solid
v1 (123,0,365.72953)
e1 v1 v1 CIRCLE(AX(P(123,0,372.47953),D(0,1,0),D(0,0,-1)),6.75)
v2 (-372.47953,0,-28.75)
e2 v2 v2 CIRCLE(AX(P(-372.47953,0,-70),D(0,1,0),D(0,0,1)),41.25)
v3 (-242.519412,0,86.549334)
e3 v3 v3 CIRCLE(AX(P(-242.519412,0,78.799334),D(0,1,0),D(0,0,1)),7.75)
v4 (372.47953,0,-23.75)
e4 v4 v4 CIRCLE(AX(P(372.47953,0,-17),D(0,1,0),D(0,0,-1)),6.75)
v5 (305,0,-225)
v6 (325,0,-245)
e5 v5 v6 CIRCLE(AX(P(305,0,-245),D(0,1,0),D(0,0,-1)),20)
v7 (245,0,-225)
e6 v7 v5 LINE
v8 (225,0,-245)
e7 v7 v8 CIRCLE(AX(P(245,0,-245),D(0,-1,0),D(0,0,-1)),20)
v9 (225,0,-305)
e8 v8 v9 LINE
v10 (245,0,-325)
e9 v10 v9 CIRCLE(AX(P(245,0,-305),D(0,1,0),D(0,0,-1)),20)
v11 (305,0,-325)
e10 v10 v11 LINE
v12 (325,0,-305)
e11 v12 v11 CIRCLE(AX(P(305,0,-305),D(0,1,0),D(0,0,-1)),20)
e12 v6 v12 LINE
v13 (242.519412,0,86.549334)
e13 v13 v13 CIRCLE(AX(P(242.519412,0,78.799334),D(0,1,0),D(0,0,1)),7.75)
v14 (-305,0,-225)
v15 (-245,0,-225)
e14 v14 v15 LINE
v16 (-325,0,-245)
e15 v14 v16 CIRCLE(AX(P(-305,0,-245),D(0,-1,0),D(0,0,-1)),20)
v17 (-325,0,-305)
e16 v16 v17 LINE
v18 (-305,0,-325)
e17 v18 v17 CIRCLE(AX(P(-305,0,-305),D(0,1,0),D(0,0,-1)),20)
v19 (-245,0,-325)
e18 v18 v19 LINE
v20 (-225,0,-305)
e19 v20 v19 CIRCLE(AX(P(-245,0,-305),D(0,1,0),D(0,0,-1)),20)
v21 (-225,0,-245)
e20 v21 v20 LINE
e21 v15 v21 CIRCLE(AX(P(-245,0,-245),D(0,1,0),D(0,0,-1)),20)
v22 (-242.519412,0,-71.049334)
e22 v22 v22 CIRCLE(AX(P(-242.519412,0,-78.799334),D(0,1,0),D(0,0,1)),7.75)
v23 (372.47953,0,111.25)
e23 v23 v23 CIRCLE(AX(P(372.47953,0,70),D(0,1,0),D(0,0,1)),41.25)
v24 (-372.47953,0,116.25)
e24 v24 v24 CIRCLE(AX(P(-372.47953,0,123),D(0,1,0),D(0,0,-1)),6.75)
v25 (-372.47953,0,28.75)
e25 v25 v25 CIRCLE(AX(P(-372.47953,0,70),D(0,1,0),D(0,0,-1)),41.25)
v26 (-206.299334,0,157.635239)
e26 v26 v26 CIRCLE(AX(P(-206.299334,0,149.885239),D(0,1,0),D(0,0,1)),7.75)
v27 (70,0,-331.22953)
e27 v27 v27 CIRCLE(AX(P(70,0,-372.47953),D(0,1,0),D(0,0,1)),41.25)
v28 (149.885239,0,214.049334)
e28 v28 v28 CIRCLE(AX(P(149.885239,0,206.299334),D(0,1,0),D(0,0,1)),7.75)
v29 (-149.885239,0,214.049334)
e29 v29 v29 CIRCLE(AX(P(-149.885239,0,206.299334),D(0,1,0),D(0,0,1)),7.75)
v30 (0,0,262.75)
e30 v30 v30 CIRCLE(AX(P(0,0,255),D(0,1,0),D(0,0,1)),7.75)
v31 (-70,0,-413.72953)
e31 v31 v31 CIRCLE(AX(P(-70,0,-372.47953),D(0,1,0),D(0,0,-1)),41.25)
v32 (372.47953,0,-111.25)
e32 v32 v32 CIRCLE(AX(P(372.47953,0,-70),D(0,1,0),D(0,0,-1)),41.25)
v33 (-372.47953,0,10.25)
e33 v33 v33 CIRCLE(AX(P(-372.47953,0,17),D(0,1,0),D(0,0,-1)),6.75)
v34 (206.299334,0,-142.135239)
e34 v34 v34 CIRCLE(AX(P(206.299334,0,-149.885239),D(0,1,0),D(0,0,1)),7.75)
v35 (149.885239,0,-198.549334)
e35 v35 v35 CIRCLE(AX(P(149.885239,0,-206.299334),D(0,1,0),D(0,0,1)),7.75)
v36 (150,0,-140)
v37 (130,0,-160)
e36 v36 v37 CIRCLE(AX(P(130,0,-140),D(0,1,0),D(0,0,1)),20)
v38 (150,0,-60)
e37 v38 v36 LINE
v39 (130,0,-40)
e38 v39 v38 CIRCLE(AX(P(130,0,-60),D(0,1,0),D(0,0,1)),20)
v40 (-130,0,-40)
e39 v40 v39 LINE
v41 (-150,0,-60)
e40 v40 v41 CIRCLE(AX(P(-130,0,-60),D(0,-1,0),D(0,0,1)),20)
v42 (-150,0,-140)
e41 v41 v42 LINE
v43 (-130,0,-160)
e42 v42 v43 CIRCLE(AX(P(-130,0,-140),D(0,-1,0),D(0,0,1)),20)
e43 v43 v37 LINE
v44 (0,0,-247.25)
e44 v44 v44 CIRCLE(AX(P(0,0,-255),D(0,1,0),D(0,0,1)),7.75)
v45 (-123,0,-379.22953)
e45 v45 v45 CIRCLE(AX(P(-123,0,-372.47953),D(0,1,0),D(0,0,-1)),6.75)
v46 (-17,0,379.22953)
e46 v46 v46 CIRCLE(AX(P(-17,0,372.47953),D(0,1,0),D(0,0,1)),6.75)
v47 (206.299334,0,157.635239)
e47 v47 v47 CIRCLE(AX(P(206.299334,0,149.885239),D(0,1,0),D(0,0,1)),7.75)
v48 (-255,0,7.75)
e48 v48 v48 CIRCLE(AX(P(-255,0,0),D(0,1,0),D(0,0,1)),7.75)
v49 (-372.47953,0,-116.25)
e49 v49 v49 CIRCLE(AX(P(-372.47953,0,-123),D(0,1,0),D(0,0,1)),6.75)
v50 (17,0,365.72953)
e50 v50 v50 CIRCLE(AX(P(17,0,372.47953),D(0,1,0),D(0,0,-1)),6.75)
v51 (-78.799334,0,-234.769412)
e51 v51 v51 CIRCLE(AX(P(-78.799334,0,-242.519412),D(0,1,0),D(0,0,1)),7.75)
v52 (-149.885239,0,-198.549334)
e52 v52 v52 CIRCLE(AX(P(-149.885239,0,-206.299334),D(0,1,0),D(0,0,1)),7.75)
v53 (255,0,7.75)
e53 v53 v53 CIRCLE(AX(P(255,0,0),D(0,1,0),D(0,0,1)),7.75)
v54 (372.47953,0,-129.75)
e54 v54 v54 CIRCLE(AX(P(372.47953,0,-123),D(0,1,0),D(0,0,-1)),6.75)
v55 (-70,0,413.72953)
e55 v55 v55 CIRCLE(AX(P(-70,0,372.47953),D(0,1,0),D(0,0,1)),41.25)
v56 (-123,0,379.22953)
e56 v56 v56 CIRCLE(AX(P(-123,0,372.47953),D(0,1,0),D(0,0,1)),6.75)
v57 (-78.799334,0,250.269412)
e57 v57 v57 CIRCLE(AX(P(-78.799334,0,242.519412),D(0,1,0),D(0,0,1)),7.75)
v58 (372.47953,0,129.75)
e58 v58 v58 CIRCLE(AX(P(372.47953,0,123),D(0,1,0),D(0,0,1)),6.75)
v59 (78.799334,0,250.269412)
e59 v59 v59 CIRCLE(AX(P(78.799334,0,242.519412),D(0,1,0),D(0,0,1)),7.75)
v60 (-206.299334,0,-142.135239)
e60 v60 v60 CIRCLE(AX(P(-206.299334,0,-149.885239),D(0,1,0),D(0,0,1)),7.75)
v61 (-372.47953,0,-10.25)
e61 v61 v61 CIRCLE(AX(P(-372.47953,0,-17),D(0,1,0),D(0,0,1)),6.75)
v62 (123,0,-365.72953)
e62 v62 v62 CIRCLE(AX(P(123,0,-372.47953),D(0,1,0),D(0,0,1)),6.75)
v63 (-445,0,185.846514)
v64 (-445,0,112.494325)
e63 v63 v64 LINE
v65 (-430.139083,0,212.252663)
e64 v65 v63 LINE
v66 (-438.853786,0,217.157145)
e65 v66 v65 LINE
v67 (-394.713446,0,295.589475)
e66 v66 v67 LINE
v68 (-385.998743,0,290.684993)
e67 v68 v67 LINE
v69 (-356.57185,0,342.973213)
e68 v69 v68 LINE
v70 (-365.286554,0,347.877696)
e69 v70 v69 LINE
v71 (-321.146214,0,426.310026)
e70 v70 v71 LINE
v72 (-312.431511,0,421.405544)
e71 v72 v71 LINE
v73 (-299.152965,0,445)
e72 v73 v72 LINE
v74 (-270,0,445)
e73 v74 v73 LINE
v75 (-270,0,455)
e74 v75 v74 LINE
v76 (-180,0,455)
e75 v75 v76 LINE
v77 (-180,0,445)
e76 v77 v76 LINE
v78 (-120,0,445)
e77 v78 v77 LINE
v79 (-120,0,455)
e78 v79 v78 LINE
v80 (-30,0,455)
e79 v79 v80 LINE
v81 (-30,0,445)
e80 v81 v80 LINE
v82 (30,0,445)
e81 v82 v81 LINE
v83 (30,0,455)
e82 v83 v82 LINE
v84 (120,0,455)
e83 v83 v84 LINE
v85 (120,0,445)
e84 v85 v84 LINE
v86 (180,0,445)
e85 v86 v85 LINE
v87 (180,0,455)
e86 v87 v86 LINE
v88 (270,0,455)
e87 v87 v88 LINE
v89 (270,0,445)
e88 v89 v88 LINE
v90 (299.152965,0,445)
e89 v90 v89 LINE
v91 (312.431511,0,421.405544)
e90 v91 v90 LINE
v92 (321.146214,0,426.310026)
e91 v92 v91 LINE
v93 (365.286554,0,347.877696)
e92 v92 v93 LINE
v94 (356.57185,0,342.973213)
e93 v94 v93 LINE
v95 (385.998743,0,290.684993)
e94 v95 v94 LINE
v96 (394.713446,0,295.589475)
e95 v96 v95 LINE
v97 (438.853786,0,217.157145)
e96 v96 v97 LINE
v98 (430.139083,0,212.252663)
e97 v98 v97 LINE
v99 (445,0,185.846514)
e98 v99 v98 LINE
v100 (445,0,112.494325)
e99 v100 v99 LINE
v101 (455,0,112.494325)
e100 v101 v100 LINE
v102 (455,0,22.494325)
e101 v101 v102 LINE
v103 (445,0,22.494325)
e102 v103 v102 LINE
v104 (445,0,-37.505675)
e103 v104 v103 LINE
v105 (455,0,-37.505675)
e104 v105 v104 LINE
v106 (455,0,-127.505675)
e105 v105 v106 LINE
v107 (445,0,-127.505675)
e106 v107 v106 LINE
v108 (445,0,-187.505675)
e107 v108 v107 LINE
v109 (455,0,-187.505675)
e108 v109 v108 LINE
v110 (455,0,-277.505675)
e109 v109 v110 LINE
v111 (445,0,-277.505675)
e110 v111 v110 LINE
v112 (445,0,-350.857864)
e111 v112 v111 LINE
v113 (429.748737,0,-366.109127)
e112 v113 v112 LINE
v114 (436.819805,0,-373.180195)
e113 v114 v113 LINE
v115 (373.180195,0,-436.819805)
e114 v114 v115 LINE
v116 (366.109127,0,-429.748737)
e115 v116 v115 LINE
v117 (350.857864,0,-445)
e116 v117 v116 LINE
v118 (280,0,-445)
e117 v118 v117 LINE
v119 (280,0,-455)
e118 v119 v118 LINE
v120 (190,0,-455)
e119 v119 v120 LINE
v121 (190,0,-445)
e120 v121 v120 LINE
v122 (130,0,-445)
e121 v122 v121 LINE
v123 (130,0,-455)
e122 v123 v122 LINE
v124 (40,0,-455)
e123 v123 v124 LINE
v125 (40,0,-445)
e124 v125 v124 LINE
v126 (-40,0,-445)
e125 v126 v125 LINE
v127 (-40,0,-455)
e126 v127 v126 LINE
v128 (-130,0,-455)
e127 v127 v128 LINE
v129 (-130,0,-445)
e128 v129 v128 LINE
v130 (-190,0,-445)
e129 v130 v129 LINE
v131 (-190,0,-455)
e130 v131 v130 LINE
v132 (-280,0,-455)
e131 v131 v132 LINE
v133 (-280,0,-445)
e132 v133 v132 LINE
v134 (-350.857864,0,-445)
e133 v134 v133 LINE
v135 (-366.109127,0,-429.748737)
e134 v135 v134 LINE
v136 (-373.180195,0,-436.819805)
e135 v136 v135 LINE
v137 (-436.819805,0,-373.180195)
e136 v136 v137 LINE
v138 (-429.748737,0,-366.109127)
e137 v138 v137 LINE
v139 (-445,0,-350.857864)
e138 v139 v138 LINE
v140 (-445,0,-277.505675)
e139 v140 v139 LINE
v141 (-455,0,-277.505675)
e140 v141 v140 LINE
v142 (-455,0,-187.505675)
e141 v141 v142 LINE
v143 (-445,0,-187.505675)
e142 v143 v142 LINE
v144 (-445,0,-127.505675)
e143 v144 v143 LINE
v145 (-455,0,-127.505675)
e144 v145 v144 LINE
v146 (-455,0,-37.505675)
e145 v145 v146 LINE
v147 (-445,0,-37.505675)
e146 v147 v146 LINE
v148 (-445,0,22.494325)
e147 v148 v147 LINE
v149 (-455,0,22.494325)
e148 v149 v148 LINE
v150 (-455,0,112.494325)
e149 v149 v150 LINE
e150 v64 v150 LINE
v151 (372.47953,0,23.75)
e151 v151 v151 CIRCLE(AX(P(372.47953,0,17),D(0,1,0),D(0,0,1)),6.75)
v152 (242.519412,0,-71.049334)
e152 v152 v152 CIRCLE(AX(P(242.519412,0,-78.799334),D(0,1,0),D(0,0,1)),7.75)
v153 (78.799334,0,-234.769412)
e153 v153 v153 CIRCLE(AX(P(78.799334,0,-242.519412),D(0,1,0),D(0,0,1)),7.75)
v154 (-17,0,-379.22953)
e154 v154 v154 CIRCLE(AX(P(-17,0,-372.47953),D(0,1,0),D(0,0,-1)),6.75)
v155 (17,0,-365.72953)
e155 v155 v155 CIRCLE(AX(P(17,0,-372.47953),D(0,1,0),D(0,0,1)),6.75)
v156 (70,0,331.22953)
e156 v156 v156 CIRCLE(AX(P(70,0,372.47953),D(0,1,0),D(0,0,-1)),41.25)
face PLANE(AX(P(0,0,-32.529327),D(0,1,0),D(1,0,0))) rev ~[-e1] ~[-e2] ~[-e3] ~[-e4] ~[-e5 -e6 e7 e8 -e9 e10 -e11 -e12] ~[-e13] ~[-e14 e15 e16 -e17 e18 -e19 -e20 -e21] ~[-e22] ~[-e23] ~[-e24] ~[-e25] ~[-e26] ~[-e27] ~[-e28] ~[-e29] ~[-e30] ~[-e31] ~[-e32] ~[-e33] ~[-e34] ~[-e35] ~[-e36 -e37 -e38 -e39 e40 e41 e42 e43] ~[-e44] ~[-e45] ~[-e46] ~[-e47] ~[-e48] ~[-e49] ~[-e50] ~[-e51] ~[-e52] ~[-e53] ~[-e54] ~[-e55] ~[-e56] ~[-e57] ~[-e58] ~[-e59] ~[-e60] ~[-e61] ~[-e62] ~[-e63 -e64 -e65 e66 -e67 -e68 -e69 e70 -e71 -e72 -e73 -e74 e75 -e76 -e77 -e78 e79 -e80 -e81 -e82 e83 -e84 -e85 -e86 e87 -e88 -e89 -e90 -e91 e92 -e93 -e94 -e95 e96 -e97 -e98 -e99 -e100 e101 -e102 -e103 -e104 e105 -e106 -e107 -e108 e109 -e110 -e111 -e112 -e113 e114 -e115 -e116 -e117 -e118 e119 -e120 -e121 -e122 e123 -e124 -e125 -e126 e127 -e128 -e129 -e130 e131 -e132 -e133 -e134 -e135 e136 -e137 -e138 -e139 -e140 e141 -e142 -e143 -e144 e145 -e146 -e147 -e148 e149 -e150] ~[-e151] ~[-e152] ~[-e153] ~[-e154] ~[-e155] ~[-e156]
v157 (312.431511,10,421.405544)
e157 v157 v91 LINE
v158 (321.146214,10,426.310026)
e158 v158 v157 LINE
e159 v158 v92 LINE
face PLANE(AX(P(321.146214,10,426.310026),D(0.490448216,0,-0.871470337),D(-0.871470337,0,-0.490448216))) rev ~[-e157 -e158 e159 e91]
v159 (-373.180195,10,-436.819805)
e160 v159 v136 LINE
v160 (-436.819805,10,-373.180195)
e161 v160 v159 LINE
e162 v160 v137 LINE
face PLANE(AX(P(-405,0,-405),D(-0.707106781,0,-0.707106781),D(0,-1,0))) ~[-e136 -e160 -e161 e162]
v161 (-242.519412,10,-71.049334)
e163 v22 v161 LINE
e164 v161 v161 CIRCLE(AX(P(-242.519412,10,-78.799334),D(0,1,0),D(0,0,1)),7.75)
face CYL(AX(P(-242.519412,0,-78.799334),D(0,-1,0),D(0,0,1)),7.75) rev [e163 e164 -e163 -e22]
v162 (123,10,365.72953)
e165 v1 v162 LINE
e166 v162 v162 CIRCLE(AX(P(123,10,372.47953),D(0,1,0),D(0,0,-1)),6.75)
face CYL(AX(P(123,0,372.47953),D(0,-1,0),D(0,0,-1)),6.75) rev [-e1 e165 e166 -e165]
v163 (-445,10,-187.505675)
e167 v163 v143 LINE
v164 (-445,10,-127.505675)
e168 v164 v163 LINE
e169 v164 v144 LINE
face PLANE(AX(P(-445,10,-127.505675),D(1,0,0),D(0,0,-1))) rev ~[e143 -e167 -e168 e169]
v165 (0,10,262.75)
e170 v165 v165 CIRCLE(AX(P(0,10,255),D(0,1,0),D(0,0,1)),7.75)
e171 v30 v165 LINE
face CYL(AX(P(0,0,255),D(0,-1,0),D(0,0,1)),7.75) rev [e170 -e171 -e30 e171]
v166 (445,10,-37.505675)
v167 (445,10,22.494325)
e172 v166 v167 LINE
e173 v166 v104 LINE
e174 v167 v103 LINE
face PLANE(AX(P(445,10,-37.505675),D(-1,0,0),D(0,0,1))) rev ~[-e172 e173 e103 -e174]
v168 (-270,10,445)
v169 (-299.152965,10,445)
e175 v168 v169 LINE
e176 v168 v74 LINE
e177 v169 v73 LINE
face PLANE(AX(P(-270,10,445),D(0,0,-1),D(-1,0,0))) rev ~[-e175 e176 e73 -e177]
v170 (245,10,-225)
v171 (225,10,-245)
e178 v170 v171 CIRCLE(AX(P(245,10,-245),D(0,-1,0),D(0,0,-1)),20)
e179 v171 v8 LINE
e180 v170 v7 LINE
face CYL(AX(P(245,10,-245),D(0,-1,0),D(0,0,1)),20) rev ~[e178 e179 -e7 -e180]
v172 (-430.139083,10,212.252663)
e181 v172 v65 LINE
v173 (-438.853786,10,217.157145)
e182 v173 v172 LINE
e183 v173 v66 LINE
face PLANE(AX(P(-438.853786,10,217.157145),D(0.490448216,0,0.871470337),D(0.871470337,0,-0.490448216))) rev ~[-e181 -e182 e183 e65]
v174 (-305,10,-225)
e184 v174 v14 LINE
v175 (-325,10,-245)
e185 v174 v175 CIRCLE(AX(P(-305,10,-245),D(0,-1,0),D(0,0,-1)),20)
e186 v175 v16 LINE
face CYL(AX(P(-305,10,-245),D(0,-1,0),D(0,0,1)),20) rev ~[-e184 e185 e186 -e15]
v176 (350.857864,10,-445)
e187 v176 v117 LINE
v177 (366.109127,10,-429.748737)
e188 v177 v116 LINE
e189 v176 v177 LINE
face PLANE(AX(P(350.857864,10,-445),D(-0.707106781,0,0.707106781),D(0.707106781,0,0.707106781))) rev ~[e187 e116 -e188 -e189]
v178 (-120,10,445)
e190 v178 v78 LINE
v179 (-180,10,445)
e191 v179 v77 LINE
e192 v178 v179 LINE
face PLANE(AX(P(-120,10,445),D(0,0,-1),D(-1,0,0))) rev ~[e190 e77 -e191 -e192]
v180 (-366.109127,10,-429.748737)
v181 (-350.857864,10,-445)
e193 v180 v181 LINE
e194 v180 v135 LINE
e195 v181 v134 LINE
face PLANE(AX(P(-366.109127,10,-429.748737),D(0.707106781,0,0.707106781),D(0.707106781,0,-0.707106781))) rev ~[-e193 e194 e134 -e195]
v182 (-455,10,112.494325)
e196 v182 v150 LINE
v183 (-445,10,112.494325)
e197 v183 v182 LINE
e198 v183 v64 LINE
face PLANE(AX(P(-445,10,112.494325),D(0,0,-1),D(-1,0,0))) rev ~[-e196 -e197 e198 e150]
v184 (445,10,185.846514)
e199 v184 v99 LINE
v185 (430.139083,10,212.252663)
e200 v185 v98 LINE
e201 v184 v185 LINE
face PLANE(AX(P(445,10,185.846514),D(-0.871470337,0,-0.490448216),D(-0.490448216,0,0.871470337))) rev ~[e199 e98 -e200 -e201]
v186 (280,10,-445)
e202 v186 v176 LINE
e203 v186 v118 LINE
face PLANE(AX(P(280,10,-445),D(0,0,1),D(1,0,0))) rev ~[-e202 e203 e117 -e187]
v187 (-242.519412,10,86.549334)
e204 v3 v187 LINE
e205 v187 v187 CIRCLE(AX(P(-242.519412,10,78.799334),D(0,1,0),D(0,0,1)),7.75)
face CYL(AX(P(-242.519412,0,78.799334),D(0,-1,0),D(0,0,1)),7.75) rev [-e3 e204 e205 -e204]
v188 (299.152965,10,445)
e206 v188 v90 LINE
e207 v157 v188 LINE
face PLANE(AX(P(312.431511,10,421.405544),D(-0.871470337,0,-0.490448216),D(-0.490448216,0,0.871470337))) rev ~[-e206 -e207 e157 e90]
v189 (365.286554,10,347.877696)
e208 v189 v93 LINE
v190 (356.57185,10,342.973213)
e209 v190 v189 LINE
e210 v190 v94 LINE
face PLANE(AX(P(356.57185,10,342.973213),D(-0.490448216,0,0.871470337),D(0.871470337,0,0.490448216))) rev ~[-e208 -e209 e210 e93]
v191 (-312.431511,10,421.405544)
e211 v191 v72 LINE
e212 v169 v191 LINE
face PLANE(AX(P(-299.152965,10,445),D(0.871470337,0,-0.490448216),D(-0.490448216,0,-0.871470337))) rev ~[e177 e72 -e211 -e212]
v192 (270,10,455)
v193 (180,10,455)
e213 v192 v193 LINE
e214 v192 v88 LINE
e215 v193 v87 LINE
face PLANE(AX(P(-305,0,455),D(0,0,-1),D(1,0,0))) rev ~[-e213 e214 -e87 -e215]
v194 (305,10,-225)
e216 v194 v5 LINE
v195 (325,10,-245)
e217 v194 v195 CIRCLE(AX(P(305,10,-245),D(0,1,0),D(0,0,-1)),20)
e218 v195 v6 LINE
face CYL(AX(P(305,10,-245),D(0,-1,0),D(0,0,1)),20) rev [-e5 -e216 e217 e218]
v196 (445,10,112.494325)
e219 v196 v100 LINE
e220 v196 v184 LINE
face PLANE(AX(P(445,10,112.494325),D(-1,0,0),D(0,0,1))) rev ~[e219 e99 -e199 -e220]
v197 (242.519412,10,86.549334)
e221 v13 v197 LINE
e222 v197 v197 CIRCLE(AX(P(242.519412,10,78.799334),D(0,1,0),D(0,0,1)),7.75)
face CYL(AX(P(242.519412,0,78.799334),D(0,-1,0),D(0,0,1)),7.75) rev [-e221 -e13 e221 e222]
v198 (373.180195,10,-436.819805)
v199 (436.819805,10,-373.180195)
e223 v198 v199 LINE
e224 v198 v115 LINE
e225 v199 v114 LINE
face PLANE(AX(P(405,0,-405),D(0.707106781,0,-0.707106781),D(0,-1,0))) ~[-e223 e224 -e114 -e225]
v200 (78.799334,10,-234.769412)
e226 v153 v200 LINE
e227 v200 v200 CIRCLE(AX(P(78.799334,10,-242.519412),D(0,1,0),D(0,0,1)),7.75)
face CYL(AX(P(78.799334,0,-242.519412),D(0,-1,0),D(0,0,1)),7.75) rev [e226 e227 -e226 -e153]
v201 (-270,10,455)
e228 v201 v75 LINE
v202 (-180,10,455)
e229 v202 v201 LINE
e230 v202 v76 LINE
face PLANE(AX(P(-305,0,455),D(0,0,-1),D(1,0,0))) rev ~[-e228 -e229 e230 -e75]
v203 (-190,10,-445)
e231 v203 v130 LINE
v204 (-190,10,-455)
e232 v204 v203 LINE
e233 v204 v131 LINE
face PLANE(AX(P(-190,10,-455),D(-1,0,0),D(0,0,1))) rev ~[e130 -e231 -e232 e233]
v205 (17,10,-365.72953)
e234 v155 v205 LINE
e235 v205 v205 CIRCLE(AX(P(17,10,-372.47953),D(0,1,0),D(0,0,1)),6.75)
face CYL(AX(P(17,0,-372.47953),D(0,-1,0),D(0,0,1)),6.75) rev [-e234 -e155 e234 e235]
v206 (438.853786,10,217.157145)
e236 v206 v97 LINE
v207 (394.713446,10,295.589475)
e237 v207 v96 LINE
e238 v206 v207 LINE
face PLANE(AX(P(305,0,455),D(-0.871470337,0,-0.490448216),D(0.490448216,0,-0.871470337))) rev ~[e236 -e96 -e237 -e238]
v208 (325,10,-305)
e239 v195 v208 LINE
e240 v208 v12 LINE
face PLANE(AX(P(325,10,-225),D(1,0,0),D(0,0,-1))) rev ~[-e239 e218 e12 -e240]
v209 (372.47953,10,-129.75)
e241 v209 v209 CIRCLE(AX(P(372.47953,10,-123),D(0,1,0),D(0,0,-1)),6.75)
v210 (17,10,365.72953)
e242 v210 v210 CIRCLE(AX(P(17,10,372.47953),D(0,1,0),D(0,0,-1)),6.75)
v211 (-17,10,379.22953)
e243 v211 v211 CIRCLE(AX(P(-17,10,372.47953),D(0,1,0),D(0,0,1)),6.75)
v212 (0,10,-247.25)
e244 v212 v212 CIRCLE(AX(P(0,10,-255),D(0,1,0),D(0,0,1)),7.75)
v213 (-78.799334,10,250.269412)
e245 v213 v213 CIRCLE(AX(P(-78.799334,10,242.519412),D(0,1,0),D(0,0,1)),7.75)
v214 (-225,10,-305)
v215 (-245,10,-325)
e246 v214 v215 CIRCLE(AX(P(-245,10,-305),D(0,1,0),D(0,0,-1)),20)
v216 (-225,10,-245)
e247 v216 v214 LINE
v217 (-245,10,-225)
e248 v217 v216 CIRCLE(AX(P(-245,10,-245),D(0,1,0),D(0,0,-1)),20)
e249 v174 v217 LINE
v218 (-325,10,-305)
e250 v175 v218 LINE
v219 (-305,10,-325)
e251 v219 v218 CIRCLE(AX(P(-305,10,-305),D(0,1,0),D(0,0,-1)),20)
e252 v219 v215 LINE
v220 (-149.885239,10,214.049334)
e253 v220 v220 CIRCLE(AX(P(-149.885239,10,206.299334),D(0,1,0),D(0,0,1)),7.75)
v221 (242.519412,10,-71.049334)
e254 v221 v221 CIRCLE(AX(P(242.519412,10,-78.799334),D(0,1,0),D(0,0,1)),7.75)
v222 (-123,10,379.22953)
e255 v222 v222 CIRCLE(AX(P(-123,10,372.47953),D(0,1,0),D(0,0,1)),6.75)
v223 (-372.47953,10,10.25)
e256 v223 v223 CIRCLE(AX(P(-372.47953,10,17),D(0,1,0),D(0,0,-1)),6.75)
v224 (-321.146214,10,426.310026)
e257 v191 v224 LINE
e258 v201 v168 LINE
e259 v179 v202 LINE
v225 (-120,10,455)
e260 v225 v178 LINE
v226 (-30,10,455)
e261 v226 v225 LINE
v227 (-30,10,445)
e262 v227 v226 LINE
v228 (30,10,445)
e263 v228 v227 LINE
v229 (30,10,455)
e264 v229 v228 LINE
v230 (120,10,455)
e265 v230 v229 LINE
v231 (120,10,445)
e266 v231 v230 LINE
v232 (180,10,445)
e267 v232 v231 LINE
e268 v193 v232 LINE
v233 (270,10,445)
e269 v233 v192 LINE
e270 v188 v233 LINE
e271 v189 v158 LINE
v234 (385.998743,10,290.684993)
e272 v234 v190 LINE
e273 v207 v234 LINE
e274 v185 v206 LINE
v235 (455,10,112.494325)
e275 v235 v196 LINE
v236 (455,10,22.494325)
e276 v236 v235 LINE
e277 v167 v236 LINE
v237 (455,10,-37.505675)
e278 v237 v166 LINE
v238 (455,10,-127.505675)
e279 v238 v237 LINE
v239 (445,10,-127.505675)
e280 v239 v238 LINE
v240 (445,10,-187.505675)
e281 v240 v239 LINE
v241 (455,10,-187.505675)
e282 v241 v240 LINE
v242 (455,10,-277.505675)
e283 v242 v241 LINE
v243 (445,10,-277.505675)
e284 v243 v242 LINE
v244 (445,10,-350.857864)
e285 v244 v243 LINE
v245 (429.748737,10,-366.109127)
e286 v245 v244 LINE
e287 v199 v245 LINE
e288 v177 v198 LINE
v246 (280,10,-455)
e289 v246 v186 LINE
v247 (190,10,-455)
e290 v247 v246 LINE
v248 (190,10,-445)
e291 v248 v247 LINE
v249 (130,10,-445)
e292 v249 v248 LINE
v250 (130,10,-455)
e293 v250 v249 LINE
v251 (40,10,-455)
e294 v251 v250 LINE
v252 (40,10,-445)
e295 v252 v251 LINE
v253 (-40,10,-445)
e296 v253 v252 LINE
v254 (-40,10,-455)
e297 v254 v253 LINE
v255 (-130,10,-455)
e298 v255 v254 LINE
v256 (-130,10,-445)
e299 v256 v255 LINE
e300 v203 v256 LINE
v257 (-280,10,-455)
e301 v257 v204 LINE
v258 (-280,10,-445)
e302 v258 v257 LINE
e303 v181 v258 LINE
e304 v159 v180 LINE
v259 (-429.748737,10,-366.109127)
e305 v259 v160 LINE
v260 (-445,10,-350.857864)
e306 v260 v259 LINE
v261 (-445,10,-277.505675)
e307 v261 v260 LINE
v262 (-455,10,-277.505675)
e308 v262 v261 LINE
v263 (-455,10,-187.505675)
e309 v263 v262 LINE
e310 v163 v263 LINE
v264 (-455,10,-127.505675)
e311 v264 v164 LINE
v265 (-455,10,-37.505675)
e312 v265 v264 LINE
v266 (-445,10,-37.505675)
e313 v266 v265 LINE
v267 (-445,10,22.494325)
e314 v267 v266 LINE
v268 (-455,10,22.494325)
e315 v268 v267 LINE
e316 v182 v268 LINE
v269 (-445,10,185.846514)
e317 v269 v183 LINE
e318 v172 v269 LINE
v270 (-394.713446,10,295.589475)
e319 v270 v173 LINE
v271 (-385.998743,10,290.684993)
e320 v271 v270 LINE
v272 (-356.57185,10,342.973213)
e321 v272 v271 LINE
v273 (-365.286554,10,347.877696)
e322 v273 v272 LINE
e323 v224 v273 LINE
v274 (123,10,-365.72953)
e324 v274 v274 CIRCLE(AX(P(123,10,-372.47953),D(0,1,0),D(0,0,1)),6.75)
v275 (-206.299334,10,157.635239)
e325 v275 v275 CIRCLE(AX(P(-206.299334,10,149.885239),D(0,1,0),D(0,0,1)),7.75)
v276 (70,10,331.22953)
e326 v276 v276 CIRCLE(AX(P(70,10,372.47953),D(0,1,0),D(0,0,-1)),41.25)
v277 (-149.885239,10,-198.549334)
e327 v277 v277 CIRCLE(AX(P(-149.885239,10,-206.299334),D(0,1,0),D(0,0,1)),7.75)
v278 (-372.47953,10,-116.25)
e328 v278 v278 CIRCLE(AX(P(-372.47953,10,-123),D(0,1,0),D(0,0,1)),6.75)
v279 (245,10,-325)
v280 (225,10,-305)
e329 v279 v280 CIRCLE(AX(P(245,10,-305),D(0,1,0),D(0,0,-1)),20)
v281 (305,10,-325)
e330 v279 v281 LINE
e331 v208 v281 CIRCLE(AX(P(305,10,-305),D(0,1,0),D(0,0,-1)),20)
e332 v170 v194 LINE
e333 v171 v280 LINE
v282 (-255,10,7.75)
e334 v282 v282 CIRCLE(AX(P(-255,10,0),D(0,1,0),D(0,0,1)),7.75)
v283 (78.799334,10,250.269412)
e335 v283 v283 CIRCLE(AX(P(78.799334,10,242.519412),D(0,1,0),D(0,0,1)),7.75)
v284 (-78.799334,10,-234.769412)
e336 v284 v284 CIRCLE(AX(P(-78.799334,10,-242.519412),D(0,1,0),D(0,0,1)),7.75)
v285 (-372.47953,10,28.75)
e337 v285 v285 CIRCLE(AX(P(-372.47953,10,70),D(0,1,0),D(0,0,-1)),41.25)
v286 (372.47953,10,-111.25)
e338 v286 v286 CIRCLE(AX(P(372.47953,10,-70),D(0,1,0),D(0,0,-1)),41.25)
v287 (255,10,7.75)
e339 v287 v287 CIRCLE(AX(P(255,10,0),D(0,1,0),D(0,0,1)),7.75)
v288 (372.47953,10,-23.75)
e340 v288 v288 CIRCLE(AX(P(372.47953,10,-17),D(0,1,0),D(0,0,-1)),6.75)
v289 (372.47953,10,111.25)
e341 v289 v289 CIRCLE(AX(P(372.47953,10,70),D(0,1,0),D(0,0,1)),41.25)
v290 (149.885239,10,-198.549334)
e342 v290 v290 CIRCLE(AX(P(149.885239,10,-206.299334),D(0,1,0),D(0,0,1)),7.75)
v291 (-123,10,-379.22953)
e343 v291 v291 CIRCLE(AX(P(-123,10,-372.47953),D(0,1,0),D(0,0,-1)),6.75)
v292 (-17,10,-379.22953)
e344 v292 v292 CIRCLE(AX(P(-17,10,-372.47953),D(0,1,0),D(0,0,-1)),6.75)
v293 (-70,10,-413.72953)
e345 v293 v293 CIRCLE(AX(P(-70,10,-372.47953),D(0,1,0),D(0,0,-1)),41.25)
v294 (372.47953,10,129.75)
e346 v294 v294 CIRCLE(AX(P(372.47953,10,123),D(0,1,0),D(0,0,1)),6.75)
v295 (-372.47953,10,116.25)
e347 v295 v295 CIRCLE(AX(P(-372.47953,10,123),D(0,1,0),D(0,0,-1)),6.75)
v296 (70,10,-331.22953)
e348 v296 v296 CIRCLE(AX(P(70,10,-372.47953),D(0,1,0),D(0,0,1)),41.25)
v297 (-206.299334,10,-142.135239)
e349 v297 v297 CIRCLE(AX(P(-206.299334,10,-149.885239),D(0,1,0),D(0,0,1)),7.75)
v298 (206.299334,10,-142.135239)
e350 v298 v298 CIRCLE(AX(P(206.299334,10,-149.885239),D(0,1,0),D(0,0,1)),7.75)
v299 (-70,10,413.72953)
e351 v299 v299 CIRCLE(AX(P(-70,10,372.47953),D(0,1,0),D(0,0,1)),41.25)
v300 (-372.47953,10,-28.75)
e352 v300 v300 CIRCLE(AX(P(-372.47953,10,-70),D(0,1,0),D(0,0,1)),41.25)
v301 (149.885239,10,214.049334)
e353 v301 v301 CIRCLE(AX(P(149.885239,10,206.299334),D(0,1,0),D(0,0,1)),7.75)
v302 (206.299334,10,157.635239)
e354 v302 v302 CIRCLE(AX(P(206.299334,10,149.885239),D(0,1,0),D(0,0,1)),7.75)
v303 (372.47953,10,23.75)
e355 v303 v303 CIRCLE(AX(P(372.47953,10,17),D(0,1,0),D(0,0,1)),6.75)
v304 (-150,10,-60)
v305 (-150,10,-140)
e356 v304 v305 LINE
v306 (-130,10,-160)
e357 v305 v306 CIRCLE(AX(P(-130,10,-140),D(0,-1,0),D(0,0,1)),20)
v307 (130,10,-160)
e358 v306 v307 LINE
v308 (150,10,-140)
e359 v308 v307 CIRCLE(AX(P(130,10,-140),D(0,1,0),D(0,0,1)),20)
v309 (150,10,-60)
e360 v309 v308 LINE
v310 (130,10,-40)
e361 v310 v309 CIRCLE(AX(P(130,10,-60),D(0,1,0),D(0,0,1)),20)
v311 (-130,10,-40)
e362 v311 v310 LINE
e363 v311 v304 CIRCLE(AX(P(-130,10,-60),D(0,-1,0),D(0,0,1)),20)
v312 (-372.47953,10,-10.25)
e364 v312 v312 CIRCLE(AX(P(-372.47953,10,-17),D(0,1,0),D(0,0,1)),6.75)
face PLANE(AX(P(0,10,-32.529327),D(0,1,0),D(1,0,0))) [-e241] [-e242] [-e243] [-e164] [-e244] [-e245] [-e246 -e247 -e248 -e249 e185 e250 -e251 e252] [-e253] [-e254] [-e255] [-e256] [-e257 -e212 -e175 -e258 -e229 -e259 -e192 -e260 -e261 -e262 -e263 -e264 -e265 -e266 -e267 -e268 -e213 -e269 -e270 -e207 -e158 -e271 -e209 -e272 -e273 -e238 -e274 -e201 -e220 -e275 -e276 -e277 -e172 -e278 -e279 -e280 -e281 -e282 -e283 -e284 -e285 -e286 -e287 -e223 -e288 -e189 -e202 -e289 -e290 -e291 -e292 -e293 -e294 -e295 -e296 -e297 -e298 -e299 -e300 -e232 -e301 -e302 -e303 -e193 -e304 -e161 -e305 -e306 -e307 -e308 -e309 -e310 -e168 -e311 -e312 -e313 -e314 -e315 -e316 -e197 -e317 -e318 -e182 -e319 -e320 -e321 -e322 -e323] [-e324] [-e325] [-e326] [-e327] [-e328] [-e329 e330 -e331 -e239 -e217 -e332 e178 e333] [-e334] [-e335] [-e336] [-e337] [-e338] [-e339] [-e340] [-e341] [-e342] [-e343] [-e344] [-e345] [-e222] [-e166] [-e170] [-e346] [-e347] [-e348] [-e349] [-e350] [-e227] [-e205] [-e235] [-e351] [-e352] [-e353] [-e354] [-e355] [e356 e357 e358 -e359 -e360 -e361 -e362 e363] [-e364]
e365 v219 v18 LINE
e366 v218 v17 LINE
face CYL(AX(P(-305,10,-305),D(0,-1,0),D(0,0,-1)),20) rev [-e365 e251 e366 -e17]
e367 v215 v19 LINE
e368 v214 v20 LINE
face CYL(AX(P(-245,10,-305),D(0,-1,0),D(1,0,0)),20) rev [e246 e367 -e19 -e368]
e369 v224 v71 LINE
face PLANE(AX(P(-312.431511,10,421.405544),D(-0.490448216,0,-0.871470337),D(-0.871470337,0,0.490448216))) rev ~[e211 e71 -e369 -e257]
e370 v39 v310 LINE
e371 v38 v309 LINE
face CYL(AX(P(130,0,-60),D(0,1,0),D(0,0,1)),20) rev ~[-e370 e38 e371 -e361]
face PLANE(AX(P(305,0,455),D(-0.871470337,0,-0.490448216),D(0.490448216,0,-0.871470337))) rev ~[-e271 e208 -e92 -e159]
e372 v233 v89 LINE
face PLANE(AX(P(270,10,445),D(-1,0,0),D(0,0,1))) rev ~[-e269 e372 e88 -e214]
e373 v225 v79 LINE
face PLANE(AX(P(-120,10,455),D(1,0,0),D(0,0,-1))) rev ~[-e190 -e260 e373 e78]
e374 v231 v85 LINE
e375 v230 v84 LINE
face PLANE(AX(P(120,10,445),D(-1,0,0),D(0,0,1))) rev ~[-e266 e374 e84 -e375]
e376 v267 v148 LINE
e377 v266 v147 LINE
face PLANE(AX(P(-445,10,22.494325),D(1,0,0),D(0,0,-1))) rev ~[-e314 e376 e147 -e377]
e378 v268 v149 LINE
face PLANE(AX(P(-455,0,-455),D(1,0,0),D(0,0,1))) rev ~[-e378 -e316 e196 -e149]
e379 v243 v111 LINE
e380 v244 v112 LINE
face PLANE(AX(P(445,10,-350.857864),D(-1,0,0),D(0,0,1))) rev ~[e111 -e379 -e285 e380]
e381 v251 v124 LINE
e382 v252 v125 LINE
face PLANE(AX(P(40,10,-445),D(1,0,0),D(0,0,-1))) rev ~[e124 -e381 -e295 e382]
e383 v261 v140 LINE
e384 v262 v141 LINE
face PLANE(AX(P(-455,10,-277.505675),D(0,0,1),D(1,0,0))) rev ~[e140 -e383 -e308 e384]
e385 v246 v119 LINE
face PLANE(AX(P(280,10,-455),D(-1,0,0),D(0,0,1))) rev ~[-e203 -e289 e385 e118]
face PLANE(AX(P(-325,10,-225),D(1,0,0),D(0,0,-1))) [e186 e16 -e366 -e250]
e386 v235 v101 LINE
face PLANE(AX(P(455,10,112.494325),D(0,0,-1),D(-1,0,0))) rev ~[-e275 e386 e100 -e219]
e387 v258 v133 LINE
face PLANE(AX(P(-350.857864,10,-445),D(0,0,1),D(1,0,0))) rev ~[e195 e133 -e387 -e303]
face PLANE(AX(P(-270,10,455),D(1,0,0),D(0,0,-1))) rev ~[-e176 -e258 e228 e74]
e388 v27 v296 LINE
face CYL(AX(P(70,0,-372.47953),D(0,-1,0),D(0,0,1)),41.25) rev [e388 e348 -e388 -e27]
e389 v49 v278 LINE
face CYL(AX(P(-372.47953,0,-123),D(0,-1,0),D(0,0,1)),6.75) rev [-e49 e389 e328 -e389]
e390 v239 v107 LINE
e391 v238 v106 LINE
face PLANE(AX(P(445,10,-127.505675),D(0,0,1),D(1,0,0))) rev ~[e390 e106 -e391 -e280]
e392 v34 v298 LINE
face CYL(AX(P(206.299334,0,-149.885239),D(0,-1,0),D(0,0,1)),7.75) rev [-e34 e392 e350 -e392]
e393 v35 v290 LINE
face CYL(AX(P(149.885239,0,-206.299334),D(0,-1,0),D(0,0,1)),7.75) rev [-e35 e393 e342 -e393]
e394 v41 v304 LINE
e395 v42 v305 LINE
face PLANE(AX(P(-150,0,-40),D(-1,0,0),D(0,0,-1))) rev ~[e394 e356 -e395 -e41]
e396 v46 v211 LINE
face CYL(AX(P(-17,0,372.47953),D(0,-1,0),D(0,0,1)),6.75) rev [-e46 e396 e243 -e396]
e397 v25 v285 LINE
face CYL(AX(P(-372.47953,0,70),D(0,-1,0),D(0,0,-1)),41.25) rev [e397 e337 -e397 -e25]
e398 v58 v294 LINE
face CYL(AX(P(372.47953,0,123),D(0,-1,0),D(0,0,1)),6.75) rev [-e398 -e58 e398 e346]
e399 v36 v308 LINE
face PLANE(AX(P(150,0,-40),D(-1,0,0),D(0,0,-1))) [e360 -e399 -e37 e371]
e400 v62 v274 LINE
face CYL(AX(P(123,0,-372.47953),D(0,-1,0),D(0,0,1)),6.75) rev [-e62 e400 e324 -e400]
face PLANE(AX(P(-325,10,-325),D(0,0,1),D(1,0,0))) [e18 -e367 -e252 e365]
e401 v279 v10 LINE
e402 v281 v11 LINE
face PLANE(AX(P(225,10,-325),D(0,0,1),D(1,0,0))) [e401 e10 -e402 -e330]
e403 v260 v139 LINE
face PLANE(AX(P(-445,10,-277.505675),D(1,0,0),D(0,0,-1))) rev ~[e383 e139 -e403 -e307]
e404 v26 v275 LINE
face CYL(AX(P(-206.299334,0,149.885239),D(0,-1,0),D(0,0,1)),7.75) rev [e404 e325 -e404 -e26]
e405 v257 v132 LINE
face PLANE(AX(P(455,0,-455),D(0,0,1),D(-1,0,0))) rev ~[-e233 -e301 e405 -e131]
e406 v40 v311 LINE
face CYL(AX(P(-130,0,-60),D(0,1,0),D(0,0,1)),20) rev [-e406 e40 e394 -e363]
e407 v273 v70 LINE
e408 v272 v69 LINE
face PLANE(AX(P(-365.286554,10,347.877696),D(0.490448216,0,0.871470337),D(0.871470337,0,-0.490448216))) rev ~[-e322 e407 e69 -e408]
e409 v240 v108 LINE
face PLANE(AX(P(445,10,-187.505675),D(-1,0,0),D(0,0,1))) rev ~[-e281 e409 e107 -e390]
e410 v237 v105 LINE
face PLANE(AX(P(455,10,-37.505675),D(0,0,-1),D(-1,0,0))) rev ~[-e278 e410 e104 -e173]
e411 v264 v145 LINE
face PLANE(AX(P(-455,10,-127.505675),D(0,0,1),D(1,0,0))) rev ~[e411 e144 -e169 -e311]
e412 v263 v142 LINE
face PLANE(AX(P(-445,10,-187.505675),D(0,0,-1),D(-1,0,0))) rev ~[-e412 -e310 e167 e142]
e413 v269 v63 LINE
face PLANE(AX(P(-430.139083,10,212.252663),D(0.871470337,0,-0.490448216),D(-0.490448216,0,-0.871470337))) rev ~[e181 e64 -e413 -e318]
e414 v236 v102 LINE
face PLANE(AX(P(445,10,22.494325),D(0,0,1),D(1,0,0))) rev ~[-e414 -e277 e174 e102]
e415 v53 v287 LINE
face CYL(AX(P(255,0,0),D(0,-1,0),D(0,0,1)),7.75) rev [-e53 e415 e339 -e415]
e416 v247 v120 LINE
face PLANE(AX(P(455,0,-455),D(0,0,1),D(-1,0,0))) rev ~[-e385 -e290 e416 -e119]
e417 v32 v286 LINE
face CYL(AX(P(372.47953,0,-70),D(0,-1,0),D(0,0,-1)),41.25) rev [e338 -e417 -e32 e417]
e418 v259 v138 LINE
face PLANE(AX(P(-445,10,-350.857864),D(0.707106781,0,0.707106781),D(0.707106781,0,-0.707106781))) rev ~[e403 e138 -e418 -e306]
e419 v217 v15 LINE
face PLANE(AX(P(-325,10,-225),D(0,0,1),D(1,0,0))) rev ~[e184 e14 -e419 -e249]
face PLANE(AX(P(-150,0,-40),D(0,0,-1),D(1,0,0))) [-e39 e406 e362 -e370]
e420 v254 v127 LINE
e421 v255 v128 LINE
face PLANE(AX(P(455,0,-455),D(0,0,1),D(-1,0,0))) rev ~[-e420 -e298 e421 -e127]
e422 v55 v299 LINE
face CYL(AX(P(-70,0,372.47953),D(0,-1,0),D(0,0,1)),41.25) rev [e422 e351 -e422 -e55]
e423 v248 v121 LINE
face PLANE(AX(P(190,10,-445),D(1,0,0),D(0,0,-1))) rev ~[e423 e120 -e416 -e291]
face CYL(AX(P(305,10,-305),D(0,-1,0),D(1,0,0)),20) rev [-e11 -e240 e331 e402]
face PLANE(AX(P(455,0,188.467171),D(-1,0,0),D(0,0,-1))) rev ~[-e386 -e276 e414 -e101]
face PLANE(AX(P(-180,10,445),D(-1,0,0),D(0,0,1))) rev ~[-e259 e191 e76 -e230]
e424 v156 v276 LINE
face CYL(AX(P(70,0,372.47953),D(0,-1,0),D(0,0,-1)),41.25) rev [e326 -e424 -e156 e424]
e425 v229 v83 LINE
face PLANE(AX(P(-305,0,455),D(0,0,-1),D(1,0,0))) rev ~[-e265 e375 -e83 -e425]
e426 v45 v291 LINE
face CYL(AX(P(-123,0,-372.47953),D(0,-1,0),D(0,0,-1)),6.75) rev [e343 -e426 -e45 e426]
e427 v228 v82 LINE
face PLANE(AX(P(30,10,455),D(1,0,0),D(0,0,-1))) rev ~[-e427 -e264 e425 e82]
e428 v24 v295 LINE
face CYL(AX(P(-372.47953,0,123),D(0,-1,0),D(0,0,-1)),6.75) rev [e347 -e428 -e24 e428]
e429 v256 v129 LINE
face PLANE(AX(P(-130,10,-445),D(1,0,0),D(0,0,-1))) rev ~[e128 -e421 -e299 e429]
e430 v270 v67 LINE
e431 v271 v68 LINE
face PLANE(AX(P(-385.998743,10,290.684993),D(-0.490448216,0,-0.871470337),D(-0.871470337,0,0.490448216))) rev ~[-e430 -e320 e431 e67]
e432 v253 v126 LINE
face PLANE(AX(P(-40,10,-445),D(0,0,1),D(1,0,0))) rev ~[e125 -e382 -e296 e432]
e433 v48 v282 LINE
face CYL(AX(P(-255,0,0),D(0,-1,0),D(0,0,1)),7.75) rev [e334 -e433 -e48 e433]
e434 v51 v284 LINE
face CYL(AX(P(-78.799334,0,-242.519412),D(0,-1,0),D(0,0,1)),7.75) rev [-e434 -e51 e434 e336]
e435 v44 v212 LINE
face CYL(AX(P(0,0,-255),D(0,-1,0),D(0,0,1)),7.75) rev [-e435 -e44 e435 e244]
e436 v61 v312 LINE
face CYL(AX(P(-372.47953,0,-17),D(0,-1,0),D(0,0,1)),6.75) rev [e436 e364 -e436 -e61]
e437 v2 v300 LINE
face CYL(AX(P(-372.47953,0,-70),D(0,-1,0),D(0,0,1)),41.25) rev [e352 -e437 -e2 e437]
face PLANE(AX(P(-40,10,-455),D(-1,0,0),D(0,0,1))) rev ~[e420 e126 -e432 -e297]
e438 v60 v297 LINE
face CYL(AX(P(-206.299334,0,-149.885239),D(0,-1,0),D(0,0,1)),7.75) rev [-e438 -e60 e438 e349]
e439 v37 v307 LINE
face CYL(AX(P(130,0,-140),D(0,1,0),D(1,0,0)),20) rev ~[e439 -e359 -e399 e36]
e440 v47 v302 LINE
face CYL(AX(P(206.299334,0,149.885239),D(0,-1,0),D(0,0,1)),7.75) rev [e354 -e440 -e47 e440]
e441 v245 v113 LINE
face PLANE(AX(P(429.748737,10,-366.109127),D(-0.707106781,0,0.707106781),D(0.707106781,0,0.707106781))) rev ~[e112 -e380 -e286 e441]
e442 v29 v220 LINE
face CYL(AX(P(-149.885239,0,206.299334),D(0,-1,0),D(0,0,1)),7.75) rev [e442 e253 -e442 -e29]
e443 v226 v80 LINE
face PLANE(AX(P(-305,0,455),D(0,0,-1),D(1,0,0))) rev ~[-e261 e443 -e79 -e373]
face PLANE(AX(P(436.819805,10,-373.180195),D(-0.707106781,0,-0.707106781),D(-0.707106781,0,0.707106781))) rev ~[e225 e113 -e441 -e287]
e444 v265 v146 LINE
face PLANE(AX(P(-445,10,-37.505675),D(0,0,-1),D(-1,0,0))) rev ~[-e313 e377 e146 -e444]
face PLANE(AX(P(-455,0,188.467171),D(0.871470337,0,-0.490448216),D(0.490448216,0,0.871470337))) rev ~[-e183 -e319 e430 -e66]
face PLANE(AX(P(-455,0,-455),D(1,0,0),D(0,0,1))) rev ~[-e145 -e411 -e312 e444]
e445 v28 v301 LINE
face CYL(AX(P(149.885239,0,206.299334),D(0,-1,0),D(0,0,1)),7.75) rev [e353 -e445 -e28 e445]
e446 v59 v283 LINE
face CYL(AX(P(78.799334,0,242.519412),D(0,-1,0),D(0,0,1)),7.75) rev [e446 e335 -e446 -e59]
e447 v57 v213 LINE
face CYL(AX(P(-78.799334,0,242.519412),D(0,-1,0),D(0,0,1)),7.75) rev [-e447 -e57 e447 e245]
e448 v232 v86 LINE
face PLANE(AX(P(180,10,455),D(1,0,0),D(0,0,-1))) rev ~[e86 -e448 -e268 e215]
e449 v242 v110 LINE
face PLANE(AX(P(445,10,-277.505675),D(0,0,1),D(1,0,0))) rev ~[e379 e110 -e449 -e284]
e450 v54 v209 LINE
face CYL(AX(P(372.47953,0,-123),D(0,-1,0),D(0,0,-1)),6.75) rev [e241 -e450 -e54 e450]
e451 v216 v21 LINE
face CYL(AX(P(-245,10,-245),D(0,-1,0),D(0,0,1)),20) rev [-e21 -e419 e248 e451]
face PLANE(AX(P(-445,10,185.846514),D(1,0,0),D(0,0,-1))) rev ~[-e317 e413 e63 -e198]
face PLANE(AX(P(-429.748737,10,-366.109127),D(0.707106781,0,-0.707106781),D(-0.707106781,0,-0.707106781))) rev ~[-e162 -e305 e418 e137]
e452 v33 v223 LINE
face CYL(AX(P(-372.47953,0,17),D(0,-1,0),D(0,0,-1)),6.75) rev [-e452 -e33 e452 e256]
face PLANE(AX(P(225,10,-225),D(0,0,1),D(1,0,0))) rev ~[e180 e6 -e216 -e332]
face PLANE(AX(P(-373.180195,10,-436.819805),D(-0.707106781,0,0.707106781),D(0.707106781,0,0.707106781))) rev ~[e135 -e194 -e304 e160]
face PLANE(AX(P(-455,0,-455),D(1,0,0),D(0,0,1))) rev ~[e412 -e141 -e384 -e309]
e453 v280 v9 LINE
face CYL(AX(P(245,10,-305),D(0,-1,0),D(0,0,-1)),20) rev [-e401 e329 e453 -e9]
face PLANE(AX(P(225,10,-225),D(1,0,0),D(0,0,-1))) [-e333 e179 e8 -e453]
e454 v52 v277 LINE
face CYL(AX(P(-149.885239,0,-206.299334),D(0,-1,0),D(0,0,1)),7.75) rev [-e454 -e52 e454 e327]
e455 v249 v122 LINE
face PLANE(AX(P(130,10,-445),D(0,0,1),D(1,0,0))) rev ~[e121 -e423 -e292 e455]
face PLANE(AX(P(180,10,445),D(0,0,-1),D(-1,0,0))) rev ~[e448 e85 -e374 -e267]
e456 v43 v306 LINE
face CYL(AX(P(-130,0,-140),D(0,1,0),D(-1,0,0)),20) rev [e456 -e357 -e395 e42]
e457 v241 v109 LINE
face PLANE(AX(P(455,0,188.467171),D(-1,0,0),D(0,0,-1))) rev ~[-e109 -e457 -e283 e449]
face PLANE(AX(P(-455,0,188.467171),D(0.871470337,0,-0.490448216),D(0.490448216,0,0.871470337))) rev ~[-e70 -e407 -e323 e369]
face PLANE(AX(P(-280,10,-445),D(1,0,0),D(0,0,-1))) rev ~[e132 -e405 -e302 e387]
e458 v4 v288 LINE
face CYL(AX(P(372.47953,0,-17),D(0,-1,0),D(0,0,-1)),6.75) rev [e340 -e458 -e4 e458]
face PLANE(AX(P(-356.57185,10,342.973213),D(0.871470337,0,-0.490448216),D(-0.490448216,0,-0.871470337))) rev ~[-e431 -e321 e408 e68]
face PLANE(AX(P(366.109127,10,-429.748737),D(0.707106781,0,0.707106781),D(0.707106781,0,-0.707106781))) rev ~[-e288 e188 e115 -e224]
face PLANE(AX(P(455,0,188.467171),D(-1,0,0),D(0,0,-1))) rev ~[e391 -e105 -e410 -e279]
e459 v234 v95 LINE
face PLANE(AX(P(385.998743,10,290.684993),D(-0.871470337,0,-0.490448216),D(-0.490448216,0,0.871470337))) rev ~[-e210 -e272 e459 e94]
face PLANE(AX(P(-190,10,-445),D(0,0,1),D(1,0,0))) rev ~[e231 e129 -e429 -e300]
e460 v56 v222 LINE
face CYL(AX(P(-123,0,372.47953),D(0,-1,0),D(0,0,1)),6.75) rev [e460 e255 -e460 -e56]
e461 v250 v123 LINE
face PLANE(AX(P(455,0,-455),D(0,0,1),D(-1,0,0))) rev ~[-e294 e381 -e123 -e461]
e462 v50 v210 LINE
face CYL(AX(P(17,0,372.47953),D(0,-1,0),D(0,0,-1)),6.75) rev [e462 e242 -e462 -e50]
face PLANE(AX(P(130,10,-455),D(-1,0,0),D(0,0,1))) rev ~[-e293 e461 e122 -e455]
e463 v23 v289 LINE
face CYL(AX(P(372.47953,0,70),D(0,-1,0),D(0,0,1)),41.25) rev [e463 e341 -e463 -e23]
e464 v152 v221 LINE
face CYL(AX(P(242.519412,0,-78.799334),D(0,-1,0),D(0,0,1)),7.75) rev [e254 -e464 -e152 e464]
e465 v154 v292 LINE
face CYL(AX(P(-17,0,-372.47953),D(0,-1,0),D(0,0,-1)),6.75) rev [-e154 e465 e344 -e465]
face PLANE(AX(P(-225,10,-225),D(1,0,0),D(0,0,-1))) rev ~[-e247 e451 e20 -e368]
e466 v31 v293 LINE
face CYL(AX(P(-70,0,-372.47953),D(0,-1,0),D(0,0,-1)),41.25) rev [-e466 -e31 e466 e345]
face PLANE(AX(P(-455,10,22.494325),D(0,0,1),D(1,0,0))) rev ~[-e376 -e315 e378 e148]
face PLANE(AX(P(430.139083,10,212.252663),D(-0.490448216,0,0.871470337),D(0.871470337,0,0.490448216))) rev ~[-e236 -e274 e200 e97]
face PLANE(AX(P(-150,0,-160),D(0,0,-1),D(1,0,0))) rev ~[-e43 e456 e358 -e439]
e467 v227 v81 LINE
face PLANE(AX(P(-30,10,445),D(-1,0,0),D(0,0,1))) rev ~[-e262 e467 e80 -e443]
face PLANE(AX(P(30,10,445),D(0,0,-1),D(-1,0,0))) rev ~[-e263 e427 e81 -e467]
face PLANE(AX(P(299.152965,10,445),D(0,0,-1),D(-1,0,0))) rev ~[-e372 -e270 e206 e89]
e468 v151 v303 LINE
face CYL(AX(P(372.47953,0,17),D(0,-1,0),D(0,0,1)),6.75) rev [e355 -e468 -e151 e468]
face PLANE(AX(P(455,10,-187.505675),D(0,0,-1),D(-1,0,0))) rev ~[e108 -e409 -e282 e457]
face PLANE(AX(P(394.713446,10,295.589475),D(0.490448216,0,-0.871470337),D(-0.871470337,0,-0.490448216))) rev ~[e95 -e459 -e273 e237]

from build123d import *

# Parameters (mm, degrees)
ESQUISSE1_R             = 7.75
ESQUISSE1_R_2           = 41.25
ESQUISSE1_R_3           = 6.75
ESQUISSE1_W             = 300
ESQUISSE1_H             = 120
BOSS_EXTRU_1_DEPTH      = 10
CHANFREIN1_SIZE         = 100
ESQUISSE2_W             = 100
ESQUISSE2_H             = 100
ENL_V_MAT_EXTRU_1_DEPTH = 644.544870231
CONG_1_R                = 20
ESQUISSE3_W             = 1497.809837023
ESQUISSE3_H             = 1280.051047864
ENL_V_MAT_EXTRU_2_DEPTH = 644.544870231


with BuildPart() as part:
    # Esquisse1 → Boss.-Extru.1 (new body)
    with BuildSketch(Plane(origin=(0, 0, 0), x_dir=(1, 0, 0), z_dir=(0, 1, 0))):
        Polygon((455, -188.46717088), (455, 188.46717088), (455, 455), (188.46717088, 455), (-188.46717088, 455), (-455, 455), (-455, 188.46717088), (-455, -188.46717088), (-305, -455), (-188.46717088, -455), (188.46717088, -455), (305, -455), align=None)
        with Locations(Location((-255, 0, 0), (0, 0, 270))):
            Circle(ESQUISSE1_R, mode=Mode.SUBTRACT)
        with Locations(Location((-242.519411655, 78.799333566, 0), (0, 0, 270))):
            Circle(ESQUISSE1_R, mode=Mode.SUBTRACT)
        with Locations(Location((-206.299333566, 149.885239335, 0), (0, 0, 270))):
            Circle(ESQUISSE1_R, mode=Mode.SUBTRACT)
        with Locations(Location((-149.885239335, 206.299333566, 0), (0, 0, 270))):
            Circle(ESQUISSE1_R, mode=Mode.SUBTRACT)
        with Locations(Location((-78.799333566, 242.519411655, 0), (0, 0, 270))):
            Circle(ESQUISSE1_R, mode=Mode.SUBTRACT)
        with Locations(Location((0, 255, 0), (0, 0, 270))):
            Circle(ESQUISSE1_R, mode=Mode.SUBTRACT)
        with Locations(Location((78.799333566, 242.519411655, 0), (0, 0, 270))):
            Circle(ESQUISSE1_R, mode=Mode.SUBTRACT)
        with Locations(Location((149.885239335, 206.299333566, 0), (0, 0, 270))):
            Circle(ESQUISSE1_R, mode=Mode.SUBTRACT)
        with Locations(Location((206.299333566, 149.885239335, 0), (0, 0, 270))):
            Circle(ESQUISSE1_R, mode=Mode.SUBTRACT)
        with Locations(Location((242.519411655, 78.799333566, 0), (0, 0, 270))):
            Circle(ESQUISSE1_R, mode=Mode.SUBTRACT)
        with Locations(Location((255, 0, 0), (0, 0, 270))):
            Circle(ESQUISSE1_R, mode=Mode.SUBTRACT)
        with Locations(Location((242.519411655, -78.799333566, 0), (0, 0, 270))):
            Circle(ESQUISSE1_R, mode=Mode.SUBTRACT)
        with Locations(Location((206.299333566, -149.885239335, 0), (0, 0, 270))):
            Circle(ESQUISSE1_R, mode=Mode.SUBTRACT)
        with Locations(Location((149.885239335, -206.299333566, 0), (0, 0, 270))):
            Circle(ESQUISSE1_R, mode=Mode.SUBTRACT)
        with Locations(Location((78.799333566, -242.519411655, 0), (0, 0, 270))):
            Circle(ESQUISSE1_R, mode=Mode.SUBTRACT)
        with Locations(Location((0, -255, 0), (0, 0, 270))):
            Circle(ESQUISSE1_R, mode=Mode.SUBTRACT)
        with Locations(Location((-78.799333566, -242.519411655, 0), (0, 0, 270))):
            Circle(ESQUISSE1_R, mode=Mode.SUBTRACT)
        with Locations(Location((-149.885239335, -206.299333566, 0), (0, 0, 270))):
            Circle(ESQUISSE1_R, mode=Mode.SUBTRACT)
        with Locations(Location((-206.299333566, -149.885239335, 0), (0, 0, 270))):
            Circle(ESQUISSE1_R, mode=Mode.SUBTRACT)
        with Locations(Location((-242.519411655, -78.799333566, 0), (0, 0, 270))):
            Circle(ESQUISSE1_R, mode=Mode.SUBTRACT)
        with Locations(Location((70, 372.479529639, 0), (0, 0, 270))):
            Circle(ESQUISSE1_R_2, mode=Mode.SUBTRACT)
        with Locations(Location((123, 372.479529639, 0), (0, 0, 270))):
            Circle(ESQUISSE1_R_3, mode=Mode.SUBTRACT)
        with Locations(Location((17, 372.479529639, 0), (0, 0, 270))):
            Circle(ESQUISSE1_R_3, mode=Mode.SUBTRACT)
        with Locations(Location((-17, 372.479529639, 0), (0, 0, 90))):
            Circle(ESQUISSE1_R_3, mode=Mode.SUBTRACT)
        with Locations(Location((-123, 372.479529639, 0), (0, 0, 90))):
            Circle(ESQUISSE1_R_3, mode=Mode.SUBTRACT)
        with Locations(Location((-70, 372.479529639, 0), (0, 0, 90))):
            Circle(ESQUISSE1_R_2, mode=Mode.SUBTRACT)
        with Locations(Location((372.479529639, 70, 0), (0, 0, 90))):
            Circle(ESQUISSE1_R_2, mode=Mode.SUBTRACT)
        with Locations(Location((372.479529639, 17, 0), (0, 0, 90))):
            Circle(ESQUISSE1_R_3, mode=Mode.SUBTRACT)
        with Locations(Location((372.479529639, 123, 0), (0, 0, 90))):
            Circle(ESQUISSE1_R_3, mode=Mode.SUBTRACT)
        with Locations(Location((372.479529639, -70, 0), (0, 0, 270))):
            Circle(ESQUISSE1_R_2, mode=Mode.SUBTRACT)
        with Locations(Location((372.479529639, -123, 0), (0, 0, 270))):
            Circle(ESQUISSE1_R_3, mode=Mode.SUBTRACT)
        with Locations(Location((372.479529639, -17, 0), (0, 0, 270))):
            Circle(ESQUISSE1_R_3, mode=Mode.SUBTRACT)
        with Locations(Location((70, -372.479529639, 0), (0, 0, 90))):
            Circle(ESQUISSE1_R_2, mode=Mode.SUBTRACT)
        with Locations(Location((17, -372.479529639, 0), (0, 0, 90))):
            Circle(ESQUISSE1_R_3, mode=Mode.SUBTRACT)
        with Locations(Location((123, -372.479529639, 0), (0, 0, 90))):
            Circle(ESQUISSE1_R_3, mode=Mode.SUBTRACT)
        with Locations(Location((-70, -372.479529639, 0), (0, 0, 270))):
            Circle(ESQUISSE1_R_2, mode=Mode.SUBTRACT)
        with Locations(Location((-123, -372.479529639, 0), (0, 0, 270))):
            Circle(ESQUISSE1_R_3, mode=Mode.SUBTRACT)
        with Locations(Location((-17, -372.479529639, 0), (0, 0, 270))):
            Circle(ESQUISSE1_R_3, mode=Mode.SUBTRACT)
        with Locations(Location((-372.479529639, -70, 0), (0, 0, 90))):
            Circle(ESQUISSE1_R_2, mode=Mode.SUBTRACT)
        with Locations(Location((-372.479529639, -17, 0), (0, 0, 90))):
            Circle(ESQUISSE1_R_3, mode=Mode.SUBTRACT)
        with Locations(Location((-372.479529639, -123, 0), (0, 0, 90))):
            Circle(ESQUISSE1_R_3, mode=Mode.SUBTRACT)
        with Locations(Location((-372.479529639, 70, 0), (0, 0, 270))):
            Circle(ESQUISSE1_R_2, mode=Mode.SUBTRACT)
        with Locations(Location((-372.479529639, 123, 0), (0, 0, 270))):
            Circle(ESQUISSE1_R_3, mode=Mode.SUBTRACT)
        with Locations(Location((-372.479529639, 17, 0), (0, 0, 270))):
            Circle(ESQUISSE1_R_3, mode=Mode.SUBTRACT)
        with Locations((0, 100)):
            Rectangle(ESQUISSE1_W, ESQUISSE1_H, mode=Mode.SUBTRACT)
    extrude(amount=BOSS_EXTRU_1_DEPTH)

    # Chanfrein1
    chanfrein1_edges = [part.edges().sort_by_distance(p)[0] for p in [
        (-455, 5, -455),
        (455, 5, -455),
    ]]
    chamfer(chanfrein1_edges, length=CHANFREIN1_SIZE)

    # Esquisse2 → Enlèv. mat.-Extru.1 (cut, through all)
    with BuildSketch(Plane(origin=(0, 10, 0), x_dir=(1, 0, 0), z_dir=(0, 1, 0))):
        with Locations((-275, 275)):
            Rectangle(ESQUISSE2_W, ESQUISSE2_H)
        with Locations((275, 275)):
            Rectangle(ESQUISSE2_W, ESQUISSE2_H)
    extrude(amount=-ENL_V_MAT_EXTRU_1_DEPTH, mode=Mode.SUBTRACT)

    # Congé1
    cong_1_edges = [part.edges().sort_by_distance(p)[0] for p in [
        (-150, 5, -160),
        (-150, 5, -40),
        (150, 5, -40),
        (150, 5, -160),
        (-325, 5, -225),
        (-325, 5, -325),
        (-225, 5, -325),
        (-225, 5, -225),
        (225, 5, -325),
        (325, 5, -325),
        (325, 5, -225),
        (225, 5, -225),
    ]]
    fillet(cong_1_edges, radius=CONG_1_R)

    # Esquisse3 → Enlèv. mat.-Extru.2 (cut, through all)
    with BuildSketch(Plane(origin=(0, 10, 0), x_dir=(1, 0, 0), z_dir=(0, 1, 0))):
        with Locations((34.907275201, -41.538880661)):
            Rectangle(ESQUISSE3_W, ESQUISSE3_H)
        Polygon((30, -445), (-30, -445), (-30, -455), (-120, -455), (-120, -445), (-180, -445), (-180, -455), (-270, -455), (-270, -445), (-299.152964676, -445), (-312.431510738, -421.405543677), (-321.146214104, -426.310025835), (-365.286553526, -347.877695539), (-356.57185016, -342.973213381), (-385.998743108, -290.684993183), (-394.713446474, -295.589475341), (-438.853785896, -217.157145045), (-430.13908253, -212.252662887), (-445, -185.846513709), (-445, -112.494324666), (-455, -112.494324666), (-455, -22.494324666), (-445, -22.494324666), (-445, 37.505675334), (-455, 37.505675334), (-455, 127.505675334), (-445, 127.505675334), (-445, 187.505675334), (-455, 187.505675334), (-455, 277.505675334), (-445, 277.505675334), (-445, 350.857864376), (-429.748737342, 366.109127035), (-436.819805153, 373.180194847), (-373.180194847, 436.819805153), (-366.109127035, 429.748737342), (-350.857864376, 445), (-280, 445), (-280, 455), (-190, 455), (-190, 445), (-130, 445), (-130, 455), (-40, 455), (-40, 445), (40, 445), (40, 455), (130, 455), (130, 445), (190, 445), (190, 455), (280, 455), (280, 445), (350.857864376, 445), (366.109127035, 429.748737342), (373.180194847, 436.819805153), (436.819805153, 373.180194847), (429.748737342, 366.109127035), (445, 350.857864376), (445, 277.505675334), (455, 277.505675334), (455, 187.505675334), (445, 187.505675334), (445, 127.505675334), (455, 127.505675334), (455, 37.505675334), (445, 37.505675334), (445, -22.494324666), (455, -22.494324666), (455, -112.494324666), (445, -112.494324666), (445, -185.846513709), (430.13908253, -212.252662887), (438.853785896, -217.157145045), (394.713446474, -295.589475341), (385.998743108, -290.684993183), (356.57185016, -342.973213381), (365.286553526, -347.877695539), (321.146214104, -426.310025835), (312.431510738, -421.405543677), (299.152964676, -445), (270, -445), (270, -455), (180, -455), (180, -445), (120, -445), (120, -455), (30, -455), align=None, mode=Mode.SUBTRACT)
    extrude(amount=-ENL_V_MAT_EXTRU_2_DEPTH, mode=Mode.SUBTRACT)


solid = part.part
